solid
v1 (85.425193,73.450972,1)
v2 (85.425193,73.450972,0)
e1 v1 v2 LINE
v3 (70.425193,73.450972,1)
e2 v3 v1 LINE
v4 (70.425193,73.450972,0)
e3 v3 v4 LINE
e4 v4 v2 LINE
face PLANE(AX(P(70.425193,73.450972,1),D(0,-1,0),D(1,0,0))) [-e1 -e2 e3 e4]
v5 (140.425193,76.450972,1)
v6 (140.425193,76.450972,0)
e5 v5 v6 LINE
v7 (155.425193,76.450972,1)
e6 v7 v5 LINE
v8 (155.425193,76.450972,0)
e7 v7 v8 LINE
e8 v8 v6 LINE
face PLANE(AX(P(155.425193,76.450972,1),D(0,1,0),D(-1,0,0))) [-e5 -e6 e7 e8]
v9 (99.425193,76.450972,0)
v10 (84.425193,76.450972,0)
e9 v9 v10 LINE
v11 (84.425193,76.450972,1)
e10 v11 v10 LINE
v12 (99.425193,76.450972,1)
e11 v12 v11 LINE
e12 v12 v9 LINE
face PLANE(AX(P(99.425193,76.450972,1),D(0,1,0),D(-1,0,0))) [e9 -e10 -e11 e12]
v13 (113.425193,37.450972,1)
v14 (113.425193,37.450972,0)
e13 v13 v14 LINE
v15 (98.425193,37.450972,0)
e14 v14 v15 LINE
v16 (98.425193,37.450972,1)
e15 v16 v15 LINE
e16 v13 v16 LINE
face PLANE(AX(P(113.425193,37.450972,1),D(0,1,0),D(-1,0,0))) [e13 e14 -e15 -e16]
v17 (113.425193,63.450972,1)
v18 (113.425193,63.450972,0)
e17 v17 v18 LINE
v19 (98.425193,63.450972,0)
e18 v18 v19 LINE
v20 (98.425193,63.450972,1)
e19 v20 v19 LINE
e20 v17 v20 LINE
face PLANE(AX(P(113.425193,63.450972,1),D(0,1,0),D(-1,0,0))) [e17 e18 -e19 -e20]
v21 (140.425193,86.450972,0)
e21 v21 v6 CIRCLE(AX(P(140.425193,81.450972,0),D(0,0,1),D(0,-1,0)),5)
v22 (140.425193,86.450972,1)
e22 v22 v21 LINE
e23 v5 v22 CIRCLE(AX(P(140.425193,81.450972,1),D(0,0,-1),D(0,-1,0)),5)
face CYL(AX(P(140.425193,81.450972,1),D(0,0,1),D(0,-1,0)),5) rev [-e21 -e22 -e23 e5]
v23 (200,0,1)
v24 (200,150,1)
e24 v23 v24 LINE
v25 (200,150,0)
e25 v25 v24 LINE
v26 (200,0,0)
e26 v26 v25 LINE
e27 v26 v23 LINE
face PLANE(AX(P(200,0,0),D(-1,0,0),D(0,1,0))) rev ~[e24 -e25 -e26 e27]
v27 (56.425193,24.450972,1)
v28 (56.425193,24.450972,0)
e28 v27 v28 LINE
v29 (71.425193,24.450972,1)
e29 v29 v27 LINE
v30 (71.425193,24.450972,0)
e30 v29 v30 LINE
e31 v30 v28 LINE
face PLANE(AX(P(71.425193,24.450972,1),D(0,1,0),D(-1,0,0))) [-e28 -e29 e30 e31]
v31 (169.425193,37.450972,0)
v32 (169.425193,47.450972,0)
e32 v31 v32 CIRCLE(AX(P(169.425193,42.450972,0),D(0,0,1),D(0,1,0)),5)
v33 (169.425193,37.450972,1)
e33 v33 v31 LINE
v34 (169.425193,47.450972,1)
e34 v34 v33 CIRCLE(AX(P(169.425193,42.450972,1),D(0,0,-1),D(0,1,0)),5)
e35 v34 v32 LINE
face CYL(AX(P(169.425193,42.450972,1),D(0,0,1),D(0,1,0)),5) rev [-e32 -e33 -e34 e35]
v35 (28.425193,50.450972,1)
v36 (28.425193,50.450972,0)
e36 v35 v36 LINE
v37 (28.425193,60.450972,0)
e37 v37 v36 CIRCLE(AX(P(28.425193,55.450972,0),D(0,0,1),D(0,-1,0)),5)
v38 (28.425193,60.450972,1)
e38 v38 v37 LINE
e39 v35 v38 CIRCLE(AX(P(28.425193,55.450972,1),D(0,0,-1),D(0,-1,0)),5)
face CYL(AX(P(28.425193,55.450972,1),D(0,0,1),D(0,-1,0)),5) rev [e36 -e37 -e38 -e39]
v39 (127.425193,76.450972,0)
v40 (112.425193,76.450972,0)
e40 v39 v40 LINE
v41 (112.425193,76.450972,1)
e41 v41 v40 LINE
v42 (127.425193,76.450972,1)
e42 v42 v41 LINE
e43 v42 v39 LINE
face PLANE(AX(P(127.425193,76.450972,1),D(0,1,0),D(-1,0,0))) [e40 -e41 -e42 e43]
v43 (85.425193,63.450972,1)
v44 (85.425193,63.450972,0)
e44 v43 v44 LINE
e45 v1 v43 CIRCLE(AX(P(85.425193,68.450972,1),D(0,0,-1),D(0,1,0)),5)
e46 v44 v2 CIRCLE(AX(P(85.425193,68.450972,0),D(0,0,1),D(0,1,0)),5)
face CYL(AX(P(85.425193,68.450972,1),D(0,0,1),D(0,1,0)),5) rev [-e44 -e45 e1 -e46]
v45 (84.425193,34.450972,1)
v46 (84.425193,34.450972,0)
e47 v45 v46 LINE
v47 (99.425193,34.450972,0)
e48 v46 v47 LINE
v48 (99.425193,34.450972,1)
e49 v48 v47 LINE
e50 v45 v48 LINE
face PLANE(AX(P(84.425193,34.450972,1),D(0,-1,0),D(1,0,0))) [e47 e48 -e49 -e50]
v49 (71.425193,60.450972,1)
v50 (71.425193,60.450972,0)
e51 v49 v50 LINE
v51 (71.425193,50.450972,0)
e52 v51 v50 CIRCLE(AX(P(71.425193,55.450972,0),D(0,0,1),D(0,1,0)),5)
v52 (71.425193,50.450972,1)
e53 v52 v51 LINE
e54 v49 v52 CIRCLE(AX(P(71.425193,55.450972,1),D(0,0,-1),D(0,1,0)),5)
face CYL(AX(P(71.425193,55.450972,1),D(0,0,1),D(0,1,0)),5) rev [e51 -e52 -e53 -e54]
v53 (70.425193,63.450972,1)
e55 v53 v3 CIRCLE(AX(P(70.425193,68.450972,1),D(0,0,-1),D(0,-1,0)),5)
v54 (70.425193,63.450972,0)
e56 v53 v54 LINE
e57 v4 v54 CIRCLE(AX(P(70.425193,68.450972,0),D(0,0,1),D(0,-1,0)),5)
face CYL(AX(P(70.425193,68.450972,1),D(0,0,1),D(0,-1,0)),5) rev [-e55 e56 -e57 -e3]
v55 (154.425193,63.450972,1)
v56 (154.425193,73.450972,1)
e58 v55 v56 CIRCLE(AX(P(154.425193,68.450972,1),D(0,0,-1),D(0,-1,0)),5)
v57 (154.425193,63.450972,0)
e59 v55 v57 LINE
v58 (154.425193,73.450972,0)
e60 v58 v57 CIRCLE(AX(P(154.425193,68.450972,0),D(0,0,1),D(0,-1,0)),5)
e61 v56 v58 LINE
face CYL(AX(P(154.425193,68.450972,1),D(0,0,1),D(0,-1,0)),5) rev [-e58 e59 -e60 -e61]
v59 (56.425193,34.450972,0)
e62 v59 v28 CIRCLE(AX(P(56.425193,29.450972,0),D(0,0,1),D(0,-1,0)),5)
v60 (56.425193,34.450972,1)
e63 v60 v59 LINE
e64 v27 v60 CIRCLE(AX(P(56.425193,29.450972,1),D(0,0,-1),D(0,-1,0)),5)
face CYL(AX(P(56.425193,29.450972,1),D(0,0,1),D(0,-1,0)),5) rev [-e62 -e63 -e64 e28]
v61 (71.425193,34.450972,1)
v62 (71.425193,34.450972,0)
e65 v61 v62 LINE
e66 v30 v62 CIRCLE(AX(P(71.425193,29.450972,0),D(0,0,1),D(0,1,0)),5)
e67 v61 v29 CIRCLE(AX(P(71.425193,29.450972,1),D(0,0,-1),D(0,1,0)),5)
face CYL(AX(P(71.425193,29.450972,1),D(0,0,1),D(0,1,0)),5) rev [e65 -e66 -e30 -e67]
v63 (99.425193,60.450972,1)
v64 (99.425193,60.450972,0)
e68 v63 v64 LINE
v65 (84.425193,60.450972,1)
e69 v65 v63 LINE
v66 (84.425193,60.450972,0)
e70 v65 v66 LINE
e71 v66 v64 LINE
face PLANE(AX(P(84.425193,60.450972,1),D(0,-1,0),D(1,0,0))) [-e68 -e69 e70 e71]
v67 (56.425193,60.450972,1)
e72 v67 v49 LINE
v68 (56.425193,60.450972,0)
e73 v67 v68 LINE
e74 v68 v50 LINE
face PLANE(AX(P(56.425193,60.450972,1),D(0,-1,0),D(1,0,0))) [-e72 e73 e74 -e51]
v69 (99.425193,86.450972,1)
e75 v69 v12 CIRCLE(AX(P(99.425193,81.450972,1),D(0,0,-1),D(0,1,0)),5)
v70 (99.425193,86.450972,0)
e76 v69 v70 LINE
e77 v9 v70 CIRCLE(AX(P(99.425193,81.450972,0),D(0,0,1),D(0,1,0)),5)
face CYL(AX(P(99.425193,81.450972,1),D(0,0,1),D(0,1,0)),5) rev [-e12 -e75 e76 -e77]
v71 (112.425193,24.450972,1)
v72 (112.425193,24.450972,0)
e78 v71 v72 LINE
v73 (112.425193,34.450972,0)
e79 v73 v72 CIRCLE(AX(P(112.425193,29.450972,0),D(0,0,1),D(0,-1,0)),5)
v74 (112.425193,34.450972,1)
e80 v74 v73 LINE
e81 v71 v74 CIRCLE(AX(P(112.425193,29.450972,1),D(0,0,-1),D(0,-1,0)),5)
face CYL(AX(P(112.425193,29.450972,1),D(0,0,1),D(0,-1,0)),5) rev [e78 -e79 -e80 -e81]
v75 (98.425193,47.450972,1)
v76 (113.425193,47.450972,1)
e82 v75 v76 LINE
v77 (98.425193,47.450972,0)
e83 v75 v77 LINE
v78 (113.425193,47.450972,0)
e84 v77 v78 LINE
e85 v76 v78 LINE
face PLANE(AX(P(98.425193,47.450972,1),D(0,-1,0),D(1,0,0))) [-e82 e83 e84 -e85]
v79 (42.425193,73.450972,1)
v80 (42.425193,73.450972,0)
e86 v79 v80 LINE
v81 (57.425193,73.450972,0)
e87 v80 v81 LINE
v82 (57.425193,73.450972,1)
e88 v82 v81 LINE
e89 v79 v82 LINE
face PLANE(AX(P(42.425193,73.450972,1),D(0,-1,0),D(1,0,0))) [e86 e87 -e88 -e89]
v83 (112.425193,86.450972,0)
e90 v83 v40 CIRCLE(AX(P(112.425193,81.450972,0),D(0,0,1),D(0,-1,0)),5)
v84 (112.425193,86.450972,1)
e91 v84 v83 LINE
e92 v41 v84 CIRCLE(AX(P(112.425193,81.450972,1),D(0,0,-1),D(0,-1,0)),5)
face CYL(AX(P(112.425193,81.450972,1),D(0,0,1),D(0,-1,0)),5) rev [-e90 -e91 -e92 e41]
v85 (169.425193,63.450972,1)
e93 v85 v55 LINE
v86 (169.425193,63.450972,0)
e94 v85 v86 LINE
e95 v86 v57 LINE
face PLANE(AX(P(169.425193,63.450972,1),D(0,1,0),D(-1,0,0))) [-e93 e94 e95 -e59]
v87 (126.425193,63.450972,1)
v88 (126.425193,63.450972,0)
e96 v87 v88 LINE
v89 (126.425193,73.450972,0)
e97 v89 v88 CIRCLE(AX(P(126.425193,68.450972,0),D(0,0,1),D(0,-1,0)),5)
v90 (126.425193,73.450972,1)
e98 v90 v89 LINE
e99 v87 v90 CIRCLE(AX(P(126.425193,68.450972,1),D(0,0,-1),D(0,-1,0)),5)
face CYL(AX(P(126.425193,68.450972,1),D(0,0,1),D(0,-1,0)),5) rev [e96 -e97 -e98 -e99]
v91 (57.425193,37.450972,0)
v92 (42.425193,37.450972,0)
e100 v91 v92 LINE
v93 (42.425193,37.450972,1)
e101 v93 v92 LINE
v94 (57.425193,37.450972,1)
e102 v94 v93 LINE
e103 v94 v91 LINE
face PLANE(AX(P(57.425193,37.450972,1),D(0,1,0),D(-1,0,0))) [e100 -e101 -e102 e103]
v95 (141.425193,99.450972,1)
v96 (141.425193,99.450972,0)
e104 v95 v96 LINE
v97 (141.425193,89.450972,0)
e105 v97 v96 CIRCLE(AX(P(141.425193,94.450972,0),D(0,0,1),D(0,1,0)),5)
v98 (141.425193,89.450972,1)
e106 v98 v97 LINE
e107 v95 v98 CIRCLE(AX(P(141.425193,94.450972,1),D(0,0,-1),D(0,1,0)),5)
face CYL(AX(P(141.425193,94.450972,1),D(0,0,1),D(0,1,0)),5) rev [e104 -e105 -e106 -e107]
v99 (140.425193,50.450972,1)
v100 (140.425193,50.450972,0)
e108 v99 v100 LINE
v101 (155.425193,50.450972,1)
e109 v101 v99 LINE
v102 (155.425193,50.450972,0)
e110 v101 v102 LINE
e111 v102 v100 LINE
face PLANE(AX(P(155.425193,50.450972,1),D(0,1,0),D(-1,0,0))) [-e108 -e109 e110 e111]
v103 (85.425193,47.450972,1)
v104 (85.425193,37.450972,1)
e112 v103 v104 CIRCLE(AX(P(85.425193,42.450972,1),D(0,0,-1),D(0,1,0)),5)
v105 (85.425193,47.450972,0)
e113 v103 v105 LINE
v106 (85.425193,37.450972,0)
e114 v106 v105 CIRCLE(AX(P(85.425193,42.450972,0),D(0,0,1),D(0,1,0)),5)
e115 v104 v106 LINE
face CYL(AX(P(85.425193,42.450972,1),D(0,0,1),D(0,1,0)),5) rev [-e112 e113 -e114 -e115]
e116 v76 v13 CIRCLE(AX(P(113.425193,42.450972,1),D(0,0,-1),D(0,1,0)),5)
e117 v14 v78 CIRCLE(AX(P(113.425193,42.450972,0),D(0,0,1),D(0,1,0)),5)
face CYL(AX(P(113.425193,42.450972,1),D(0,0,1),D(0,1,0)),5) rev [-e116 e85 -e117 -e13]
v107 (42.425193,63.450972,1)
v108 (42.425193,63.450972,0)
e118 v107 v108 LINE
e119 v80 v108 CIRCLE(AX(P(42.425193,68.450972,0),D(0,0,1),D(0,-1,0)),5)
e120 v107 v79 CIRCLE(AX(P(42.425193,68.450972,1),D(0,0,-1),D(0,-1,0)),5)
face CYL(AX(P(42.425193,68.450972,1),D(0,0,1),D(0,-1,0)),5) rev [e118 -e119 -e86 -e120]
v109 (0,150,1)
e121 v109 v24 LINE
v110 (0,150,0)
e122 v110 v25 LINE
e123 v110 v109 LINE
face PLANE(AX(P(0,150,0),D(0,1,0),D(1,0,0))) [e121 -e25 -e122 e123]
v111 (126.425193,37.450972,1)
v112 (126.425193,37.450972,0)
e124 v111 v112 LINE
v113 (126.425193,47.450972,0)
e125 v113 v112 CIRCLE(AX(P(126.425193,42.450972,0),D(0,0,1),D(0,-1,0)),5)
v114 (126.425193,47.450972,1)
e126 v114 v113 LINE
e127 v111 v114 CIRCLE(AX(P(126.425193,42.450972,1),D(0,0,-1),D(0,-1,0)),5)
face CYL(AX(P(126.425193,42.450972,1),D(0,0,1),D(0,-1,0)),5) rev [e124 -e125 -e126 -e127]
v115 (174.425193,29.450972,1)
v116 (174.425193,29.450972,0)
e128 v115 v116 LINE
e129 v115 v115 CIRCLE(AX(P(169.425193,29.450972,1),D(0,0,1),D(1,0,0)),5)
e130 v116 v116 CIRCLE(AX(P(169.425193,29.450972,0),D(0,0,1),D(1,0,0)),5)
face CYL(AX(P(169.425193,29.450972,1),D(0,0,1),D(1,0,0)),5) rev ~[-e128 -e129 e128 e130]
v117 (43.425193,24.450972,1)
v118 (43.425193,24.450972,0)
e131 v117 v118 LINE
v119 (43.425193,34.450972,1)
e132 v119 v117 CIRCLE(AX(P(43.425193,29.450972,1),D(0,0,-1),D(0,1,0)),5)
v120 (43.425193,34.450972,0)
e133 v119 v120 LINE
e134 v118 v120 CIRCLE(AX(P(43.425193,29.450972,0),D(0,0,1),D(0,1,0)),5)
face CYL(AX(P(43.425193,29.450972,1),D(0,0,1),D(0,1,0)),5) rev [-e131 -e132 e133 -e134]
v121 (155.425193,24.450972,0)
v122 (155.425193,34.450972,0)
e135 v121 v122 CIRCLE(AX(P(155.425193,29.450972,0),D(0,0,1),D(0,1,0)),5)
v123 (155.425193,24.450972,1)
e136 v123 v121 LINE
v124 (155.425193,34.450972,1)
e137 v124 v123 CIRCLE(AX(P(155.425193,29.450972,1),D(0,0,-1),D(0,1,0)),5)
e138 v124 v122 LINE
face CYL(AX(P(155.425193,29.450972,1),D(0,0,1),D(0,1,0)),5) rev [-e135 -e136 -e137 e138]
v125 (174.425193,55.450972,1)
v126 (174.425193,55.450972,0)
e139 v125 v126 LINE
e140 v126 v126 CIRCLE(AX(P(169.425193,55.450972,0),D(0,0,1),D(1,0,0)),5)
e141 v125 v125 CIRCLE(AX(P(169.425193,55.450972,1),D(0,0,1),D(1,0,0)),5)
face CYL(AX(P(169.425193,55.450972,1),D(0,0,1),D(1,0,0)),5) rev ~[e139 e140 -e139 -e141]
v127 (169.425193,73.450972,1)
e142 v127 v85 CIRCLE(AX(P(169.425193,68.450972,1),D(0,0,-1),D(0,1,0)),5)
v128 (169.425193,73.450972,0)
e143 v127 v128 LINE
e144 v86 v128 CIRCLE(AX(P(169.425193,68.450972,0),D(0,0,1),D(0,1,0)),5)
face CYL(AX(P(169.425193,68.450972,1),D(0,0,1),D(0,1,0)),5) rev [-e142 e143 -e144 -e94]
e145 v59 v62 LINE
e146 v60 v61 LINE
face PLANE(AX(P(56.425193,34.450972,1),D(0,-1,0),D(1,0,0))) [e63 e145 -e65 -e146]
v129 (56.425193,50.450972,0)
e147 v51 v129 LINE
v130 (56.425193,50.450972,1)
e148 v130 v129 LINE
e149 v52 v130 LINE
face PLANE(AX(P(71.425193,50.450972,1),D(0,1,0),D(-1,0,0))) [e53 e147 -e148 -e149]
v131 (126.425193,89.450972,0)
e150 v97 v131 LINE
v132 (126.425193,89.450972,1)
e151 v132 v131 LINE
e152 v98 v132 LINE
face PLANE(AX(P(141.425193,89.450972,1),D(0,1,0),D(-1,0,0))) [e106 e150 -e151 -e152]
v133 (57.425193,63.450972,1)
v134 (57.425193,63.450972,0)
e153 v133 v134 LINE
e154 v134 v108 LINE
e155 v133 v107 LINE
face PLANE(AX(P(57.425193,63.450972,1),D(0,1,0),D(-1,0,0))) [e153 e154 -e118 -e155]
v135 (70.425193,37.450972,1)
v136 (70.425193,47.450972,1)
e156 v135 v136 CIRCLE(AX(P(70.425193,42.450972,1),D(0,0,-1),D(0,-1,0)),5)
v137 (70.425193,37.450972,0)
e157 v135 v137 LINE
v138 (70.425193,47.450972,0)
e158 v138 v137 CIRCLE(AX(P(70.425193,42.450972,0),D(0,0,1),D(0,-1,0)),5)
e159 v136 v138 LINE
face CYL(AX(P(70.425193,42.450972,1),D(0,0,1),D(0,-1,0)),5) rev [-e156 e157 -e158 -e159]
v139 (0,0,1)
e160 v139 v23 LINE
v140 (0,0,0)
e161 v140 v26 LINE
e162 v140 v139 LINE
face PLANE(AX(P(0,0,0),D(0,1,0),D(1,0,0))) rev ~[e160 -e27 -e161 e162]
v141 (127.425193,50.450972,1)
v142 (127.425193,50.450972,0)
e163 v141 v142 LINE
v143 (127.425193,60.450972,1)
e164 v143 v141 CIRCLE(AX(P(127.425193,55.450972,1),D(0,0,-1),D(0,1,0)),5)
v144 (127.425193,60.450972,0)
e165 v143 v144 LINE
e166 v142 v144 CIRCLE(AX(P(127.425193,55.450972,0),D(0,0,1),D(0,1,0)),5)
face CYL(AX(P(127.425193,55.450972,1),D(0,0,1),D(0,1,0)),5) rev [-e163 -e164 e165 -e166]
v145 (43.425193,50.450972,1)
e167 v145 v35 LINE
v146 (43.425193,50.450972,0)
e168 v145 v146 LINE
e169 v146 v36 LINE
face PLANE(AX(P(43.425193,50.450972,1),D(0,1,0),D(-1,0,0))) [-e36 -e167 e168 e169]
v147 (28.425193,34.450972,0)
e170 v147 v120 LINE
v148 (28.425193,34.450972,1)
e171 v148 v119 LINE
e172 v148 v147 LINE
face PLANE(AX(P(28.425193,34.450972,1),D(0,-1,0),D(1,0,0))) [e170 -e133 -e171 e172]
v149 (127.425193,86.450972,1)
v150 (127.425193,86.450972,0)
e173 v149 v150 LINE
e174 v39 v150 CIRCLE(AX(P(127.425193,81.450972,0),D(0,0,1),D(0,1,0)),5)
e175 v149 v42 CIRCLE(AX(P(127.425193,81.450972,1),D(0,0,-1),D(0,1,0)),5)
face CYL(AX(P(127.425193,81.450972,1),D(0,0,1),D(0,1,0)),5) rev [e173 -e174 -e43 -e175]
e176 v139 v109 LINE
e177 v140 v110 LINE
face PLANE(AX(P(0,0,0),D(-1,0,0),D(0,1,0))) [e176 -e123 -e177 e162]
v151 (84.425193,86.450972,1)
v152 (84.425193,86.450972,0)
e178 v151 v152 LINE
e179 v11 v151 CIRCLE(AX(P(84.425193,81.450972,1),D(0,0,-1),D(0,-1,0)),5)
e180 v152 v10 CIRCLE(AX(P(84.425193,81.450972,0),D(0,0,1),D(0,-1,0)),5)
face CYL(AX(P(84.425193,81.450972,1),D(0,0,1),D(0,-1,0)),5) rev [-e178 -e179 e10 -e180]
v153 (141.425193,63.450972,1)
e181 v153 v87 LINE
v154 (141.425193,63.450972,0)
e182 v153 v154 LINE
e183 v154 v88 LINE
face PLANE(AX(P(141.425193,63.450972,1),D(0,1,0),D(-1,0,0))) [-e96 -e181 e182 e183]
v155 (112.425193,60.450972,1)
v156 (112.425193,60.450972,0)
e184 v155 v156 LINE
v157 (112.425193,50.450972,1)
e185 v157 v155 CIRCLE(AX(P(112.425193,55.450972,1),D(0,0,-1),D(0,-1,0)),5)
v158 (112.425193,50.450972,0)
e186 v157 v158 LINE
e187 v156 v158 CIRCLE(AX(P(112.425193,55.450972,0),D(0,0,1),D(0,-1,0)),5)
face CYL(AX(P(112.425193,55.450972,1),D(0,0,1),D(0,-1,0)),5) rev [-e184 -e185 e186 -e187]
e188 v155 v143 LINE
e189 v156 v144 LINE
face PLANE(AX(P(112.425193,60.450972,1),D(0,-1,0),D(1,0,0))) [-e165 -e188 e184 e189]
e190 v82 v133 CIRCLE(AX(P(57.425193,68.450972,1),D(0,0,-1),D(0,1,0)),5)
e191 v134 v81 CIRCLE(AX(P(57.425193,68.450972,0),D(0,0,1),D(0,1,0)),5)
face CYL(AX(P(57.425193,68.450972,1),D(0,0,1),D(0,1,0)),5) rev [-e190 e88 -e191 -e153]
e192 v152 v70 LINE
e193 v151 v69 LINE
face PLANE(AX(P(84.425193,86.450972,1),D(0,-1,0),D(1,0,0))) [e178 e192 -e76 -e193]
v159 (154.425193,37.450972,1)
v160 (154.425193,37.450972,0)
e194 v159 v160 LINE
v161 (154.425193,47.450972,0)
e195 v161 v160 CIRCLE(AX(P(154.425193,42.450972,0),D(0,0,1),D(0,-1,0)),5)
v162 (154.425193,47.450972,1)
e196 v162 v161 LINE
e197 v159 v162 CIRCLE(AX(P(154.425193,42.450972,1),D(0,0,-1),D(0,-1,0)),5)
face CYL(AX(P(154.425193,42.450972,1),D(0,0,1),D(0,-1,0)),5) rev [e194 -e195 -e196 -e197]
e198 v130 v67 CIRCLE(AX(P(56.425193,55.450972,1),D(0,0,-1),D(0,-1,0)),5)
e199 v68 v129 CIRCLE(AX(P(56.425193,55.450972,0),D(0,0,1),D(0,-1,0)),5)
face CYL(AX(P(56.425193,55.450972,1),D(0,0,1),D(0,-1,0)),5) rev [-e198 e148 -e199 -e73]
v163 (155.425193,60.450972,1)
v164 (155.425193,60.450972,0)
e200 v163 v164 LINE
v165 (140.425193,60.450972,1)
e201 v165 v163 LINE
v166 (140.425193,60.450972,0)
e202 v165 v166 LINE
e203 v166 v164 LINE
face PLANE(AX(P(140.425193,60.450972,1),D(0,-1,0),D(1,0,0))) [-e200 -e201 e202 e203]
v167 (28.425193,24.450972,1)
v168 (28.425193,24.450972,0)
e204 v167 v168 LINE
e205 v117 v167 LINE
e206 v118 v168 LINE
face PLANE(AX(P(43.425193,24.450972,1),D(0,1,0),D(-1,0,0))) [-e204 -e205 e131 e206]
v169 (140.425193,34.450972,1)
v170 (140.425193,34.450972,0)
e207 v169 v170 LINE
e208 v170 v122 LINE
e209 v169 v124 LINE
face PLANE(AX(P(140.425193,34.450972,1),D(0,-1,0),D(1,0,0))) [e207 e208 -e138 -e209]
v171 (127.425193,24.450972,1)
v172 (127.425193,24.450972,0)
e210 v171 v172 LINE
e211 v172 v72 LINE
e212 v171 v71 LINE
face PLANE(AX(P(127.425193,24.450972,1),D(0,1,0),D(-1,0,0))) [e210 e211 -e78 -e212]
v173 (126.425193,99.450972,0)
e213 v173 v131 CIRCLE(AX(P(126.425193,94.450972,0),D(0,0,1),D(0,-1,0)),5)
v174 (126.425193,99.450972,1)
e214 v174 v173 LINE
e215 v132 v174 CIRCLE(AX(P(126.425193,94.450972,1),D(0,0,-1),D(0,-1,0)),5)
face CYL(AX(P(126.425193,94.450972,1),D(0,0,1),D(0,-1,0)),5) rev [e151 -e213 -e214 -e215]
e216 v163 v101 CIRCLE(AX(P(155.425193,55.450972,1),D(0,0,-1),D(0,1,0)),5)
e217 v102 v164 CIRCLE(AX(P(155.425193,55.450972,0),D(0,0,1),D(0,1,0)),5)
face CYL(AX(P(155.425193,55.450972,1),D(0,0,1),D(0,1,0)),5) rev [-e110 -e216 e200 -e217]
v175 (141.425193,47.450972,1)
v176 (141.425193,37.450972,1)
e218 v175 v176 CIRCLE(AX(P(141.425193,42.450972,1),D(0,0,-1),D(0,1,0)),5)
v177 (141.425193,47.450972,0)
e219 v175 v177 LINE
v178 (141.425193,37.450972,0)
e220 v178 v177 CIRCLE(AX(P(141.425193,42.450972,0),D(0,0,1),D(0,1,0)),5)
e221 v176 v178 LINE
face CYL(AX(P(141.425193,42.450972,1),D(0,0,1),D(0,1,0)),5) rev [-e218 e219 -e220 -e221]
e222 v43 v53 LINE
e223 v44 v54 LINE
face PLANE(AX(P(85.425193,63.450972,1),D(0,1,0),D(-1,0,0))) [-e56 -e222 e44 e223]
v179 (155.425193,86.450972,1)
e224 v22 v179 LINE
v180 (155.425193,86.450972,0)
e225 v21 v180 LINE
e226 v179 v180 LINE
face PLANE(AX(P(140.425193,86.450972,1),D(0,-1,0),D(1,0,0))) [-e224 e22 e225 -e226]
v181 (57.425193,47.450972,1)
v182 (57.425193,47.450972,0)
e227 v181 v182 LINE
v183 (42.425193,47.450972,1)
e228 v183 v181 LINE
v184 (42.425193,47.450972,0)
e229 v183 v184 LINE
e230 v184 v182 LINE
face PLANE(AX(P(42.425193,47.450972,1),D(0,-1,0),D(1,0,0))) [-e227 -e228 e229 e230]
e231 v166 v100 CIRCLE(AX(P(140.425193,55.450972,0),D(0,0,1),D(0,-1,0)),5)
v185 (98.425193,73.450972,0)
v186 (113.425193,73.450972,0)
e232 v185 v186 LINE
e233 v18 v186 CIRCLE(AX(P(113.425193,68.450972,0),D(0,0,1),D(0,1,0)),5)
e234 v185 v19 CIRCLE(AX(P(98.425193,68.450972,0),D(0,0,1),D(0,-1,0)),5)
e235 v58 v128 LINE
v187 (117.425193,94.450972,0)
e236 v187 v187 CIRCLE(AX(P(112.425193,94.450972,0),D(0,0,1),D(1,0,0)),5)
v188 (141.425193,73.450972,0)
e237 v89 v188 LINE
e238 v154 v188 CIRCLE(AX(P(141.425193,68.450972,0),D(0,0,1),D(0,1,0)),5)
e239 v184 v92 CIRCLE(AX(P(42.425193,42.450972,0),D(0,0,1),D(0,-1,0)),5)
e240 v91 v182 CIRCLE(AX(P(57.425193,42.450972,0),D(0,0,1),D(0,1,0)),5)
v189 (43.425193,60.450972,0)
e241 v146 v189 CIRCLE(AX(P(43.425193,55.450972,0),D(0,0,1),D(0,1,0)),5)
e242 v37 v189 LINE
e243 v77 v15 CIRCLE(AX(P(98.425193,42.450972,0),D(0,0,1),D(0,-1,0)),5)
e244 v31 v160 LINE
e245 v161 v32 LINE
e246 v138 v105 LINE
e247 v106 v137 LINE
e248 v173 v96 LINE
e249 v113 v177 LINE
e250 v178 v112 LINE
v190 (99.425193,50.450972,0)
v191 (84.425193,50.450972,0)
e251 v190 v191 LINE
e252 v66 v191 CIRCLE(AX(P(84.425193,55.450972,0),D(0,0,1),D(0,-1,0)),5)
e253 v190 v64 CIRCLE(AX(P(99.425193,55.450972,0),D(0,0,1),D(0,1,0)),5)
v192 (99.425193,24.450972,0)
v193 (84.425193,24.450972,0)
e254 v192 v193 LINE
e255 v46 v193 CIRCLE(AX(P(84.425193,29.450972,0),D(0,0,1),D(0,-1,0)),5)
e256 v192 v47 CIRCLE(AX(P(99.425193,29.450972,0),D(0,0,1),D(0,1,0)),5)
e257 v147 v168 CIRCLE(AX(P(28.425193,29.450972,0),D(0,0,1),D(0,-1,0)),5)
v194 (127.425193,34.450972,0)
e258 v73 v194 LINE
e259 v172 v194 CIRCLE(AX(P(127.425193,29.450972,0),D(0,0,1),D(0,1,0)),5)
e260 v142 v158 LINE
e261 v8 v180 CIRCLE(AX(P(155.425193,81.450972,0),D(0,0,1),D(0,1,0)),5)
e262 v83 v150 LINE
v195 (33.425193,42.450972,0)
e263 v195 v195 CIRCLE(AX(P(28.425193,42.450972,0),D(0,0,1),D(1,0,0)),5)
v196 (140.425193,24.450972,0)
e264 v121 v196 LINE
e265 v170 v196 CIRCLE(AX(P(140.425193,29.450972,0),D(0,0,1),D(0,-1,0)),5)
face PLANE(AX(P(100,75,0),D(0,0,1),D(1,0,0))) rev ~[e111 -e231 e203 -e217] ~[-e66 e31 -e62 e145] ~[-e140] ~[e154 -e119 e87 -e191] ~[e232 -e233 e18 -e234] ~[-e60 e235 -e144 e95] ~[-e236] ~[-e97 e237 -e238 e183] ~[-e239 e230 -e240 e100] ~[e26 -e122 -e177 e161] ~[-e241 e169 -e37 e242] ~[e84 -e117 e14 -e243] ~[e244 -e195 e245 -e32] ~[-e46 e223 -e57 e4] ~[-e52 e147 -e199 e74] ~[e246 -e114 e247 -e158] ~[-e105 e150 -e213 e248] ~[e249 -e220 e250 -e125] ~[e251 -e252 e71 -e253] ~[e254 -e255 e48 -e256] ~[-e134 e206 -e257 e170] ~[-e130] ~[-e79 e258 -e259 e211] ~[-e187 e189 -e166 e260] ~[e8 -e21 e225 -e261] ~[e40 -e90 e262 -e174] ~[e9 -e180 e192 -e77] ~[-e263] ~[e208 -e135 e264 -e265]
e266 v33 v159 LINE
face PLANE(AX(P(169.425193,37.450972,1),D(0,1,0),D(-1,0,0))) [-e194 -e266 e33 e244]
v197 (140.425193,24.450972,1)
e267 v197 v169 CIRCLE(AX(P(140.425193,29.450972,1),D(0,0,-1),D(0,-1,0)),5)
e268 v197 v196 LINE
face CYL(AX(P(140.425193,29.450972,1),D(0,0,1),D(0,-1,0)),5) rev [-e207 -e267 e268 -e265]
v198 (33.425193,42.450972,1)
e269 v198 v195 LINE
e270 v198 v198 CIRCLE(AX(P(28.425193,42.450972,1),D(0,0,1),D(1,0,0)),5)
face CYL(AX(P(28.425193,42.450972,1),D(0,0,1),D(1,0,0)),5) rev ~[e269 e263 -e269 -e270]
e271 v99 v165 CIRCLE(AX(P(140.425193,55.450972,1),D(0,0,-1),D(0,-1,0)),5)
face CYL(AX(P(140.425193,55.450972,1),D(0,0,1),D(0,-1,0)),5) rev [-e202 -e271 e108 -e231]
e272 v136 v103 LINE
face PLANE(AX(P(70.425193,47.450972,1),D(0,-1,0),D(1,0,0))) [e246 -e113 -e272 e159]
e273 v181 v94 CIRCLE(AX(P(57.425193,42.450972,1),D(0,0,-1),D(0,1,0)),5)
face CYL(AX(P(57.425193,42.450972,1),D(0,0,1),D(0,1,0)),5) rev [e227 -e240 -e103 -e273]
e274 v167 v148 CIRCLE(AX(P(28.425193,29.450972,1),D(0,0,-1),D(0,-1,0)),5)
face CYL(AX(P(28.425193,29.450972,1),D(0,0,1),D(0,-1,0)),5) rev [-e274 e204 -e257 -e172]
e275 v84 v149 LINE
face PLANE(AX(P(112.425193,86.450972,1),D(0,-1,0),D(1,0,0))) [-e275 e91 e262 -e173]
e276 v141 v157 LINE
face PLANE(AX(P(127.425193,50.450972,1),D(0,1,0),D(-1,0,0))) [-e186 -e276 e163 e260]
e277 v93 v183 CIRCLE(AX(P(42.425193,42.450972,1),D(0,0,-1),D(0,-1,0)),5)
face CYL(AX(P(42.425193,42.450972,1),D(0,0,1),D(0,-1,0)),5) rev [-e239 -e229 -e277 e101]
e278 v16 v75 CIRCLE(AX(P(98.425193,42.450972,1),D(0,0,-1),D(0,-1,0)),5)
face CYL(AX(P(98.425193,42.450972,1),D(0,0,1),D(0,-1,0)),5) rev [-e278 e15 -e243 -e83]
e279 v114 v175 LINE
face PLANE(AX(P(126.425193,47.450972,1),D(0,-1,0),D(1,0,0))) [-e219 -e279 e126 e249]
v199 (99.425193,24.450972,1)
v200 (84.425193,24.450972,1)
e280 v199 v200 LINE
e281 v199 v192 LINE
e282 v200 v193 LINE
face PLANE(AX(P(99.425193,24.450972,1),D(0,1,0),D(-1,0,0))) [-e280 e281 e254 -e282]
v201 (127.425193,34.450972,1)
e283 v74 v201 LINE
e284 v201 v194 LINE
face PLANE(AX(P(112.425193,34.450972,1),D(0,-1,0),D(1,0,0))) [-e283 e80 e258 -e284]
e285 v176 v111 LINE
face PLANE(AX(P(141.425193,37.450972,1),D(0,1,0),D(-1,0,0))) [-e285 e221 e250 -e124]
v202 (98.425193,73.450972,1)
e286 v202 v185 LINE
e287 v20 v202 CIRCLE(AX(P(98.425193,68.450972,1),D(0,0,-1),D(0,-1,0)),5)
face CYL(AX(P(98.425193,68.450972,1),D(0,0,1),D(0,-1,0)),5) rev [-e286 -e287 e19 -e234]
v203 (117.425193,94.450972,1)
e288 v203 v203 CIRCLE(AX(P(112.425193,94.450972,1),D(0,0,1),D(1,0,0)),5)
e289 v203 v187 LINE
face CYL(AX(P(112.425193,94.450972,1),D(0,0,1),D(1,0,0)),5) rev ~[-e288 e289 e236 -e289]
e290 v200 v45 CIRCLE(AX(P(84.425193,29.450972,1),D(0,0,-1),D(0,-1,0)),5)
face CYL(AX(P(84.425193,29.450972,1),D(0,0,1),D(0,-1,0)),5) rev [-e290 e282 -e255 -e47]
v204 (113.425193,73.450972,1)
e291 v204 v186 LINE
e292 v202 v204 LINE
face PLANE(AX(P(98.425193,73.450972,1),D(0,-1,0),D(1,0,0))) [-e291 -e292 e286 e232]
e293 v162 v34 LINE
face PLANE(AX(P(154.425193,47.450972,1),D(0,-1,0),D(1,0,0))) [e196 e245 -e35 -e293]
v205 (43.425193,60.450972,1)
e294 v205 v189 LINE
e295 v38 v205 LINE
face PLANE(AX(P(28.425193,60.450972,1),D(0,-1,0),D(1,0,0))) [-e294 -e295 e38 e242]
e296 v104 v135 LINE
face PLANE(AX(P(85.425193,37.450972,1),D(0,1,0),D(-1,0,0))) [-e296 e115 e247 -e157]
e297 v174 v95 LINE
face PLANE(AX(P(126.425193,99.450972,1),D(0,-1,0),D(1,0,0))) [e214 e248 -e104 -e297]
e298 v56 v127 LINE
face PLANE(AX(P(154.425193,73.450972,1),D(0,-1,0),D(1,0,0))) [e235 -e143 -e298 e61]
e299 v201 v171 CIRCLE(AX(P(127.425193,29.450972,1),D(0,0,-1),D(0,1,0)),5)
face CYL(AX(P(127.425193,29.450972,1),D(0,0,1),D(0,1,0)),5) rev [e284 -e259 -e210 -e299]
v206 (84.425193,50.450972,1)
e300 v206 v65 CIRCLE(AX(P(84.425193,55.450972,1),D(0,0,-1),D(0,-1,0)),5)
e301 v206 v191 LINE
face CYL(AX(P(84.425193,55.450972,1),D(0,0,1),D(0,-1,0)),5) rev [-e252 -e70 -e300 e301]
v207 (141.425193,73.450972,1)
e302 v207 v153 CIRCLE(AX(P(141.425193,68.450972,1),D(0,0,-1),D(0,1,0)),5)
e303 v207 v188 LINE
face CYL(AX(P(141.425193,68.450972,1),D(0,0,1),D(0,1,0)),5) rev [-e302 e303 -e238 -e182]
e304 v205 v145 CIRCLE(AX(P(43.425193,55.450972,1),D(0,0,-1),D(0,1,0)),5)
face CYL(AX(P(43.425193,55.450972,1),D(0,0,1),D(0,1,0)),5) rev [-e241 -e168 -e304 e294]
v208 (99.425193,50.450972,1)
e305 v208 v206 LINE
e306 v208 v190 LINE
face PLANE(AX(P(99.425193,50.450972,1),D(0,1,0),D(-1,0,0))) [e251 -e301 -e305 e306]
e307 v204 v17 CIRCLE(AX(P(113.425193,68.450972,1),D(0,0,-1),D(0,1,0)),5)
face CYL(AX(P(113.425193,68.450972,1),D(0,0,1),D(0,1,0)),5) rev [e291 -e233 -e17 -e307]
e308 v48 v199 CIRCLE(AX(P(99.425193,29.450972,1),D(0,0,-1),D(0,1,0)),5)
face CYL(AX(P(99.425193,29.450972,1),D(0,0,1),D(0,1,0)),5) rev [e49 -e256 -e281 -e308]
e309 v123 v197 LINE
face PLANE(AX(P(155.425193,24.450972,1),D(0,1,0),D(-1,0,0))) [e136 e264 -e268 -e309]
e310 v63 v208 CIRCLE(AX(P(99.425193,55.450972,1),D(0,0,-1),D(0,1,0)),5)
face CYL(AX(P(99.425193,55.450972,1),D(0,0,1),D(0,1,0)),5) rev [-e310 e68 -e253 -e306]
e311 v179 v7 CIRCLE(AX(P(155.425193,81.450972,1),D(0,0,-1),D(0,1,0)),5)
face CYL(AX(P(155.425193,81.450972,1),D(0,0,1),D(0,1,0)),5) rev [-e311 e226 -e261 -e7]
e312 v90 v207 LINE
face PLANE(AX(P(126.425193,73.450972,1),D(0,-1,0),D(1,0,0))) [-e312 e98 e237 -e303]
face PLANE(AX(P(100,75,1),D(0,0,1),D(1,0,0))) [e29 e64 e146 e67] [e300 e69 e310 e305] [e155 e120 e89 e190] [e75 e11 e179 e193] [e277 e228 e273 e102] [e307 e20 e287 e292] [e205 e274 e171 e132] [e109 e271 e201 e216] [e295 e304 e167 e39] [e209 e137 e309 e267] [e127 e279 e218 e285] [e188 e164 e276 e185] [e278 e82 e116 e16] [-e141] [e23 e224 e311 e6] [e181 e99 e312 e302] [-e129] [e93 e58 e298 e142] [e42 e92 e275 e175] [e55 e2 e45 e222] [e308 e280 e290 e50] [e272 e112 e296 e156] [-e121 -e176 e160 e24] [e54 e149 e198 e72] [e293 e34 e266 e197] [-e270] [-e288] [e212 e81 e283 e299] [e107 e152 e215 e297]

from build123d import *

# Parameters (mm, degrees)
SKIZZE1_W                       = 200
SKIZZE1_H                       = 150
AUFSATZ_LINEAR_AUSTRAGEN1_DEPTH = 1
SCHNITT_LINEAR_AUSTRAGEN5_DEPTH = 2
LINEARES_MUSTER2_COUNT          = 5
LINEARES_MUSTER2_PITCH          = 28
LINEARES_MUSTER2_COUNT_DIR2     = 3
LINEARES_MUSTER2_PITCH_DIR2     = 26
SCHNITT_LINEAR_AUSTRAGEN6_DEPTH = 2
LINEARES_MUSTER3_COUNT          = 5
LINEARES_MUSTER3_PITCH          = 28
LINEARES_MUSTER3_COUNT_DIR2     = 3
LINEARES_MUSTER3_PITCH_DIR2     = 26
SKIZZE9_R                       = 5
SCHNITT_LINEAR_AUSTRAGEN7_DEPTH = 2


with BuildPart() as part:
    # Skizze1 → Aufsatz-Linear austragen1 (new body)
    with BuildSketch(Plane.XY):
        with Locations((100, 75)):
            Rectangle(SKIZZE1_W, SKIZZE1_H)
    extrude(amount=AUFSATZ_LINEAR_AUSTRAGEN1_DEPTH)

    # Langlochmuster → Schnitt-Linear austragen5 (cut, through all)
    with BuildSketch(Plane.XY.offset(1)):
        with BuildLine():
            Line((28.425192668, 34.450971961), (43.425192668, 34.450971961))
            ThreePointArc((43.425192668, 34.450971961), (48.425192668, 29.450971961), (43.425192668, 24.450971961))
            Line((43.425192668, 24.450971961), (28.425192668, 24.450971961))
            ThreePointArc((28.425192668, 24.450971961), (23.425192668, 29.450971961), (28.425192668, 34.450971961))
        make_face()
    schnitt_linear_austragen5 = extrude(amount=-SCHNITT_LINEAR_AUSTRAGEN5_DEPTH, mode=Mode.SUBTRACT)

    # Lineares Muster2: Schnitt-Linear austragen5 5 × 3, 2 skipped
    with Locations(*[(i * LINEARES_MUSTER2_PITCH, j * LINEARES_MUSTER2_PITCH_DIR2, 0) for i in range(LINEARES_MUSTER2_COUNT) for j in range(LINEARES_MUSTER2_COUNT_DIR2) if (i, j) not in ((0, 0), (0, 2), (1, 2))]):
        add(schnitt_linear_austragen5, mode=Mode.SUBTRACT)

    # Skizze8_3 → Schnitt-Linear austragen6 (cut, through all)
    with BuildSketch(Plane.XY.offset(1)):
        with BuildLine():
            Line((42.425192668, 47.450971961), (57.425192668, 47.450971961))
            ThreePointArc((57.425192668, 47.450971961), (62.425192668, 42.450971961), (57.425192668, 37.450971961))
            Line((57.425192668, 37.450971961), (42.425192668, 37.450971961))
            ThreePointArc((42.425192668, 37.450971961), (37.425192668, 42.450971961), (42.425192668, 47.450971961))
        make_face()
    schnitt_linear_austragen6 = extrude(amount=-SCHNITT_LINEAR_AUSTRAGEN6_DEPTH, mode=Mode.SUBTRACT)

    # Lineares Muster3: Schnitt-Linear austragen6 5 × 3, 4 skipped
    with Locations(*[(i * LINEARES_MUSTER3_PITCH, j * LINEARES_MUSTER3_PITCH_DIR2, 0) for i in range(LINEARES_MUSTER3_COUNT) for j in range(LINEARES_MUSTER3_COUNT_DIR2) if (i, j) not in ((0, 0), (0, 2), (1, 2), (2, 2), (4, 2))]):
        add(schnitt_linear_austragen6, mode=Mode.SUBTRACT)

    # Skizze9 → Schnitt-Linear austragen7 (cut, through all)
    with BuildSketch(Plane.XY.offset(1)):
        with Locations((28.425192668, 42.450971961)):
            Circle(SKIZZE9_R)
        with Locations((112.425192668, 94.450971961)):
            Circle(SKIZZE9_R)
        with Locations((169.425192668, 55.450971961)):
            Circle(SKIZZE9_R)
        with Locations((169.425192668, 29.450971961)):
            Circle(SKIZZE9_R)
    extrude(amount=-SCHNITT_LINEAR_AUSTRAGEN7_DEPTH, mode=Mode.SUBTRACT)


solid = part.part
